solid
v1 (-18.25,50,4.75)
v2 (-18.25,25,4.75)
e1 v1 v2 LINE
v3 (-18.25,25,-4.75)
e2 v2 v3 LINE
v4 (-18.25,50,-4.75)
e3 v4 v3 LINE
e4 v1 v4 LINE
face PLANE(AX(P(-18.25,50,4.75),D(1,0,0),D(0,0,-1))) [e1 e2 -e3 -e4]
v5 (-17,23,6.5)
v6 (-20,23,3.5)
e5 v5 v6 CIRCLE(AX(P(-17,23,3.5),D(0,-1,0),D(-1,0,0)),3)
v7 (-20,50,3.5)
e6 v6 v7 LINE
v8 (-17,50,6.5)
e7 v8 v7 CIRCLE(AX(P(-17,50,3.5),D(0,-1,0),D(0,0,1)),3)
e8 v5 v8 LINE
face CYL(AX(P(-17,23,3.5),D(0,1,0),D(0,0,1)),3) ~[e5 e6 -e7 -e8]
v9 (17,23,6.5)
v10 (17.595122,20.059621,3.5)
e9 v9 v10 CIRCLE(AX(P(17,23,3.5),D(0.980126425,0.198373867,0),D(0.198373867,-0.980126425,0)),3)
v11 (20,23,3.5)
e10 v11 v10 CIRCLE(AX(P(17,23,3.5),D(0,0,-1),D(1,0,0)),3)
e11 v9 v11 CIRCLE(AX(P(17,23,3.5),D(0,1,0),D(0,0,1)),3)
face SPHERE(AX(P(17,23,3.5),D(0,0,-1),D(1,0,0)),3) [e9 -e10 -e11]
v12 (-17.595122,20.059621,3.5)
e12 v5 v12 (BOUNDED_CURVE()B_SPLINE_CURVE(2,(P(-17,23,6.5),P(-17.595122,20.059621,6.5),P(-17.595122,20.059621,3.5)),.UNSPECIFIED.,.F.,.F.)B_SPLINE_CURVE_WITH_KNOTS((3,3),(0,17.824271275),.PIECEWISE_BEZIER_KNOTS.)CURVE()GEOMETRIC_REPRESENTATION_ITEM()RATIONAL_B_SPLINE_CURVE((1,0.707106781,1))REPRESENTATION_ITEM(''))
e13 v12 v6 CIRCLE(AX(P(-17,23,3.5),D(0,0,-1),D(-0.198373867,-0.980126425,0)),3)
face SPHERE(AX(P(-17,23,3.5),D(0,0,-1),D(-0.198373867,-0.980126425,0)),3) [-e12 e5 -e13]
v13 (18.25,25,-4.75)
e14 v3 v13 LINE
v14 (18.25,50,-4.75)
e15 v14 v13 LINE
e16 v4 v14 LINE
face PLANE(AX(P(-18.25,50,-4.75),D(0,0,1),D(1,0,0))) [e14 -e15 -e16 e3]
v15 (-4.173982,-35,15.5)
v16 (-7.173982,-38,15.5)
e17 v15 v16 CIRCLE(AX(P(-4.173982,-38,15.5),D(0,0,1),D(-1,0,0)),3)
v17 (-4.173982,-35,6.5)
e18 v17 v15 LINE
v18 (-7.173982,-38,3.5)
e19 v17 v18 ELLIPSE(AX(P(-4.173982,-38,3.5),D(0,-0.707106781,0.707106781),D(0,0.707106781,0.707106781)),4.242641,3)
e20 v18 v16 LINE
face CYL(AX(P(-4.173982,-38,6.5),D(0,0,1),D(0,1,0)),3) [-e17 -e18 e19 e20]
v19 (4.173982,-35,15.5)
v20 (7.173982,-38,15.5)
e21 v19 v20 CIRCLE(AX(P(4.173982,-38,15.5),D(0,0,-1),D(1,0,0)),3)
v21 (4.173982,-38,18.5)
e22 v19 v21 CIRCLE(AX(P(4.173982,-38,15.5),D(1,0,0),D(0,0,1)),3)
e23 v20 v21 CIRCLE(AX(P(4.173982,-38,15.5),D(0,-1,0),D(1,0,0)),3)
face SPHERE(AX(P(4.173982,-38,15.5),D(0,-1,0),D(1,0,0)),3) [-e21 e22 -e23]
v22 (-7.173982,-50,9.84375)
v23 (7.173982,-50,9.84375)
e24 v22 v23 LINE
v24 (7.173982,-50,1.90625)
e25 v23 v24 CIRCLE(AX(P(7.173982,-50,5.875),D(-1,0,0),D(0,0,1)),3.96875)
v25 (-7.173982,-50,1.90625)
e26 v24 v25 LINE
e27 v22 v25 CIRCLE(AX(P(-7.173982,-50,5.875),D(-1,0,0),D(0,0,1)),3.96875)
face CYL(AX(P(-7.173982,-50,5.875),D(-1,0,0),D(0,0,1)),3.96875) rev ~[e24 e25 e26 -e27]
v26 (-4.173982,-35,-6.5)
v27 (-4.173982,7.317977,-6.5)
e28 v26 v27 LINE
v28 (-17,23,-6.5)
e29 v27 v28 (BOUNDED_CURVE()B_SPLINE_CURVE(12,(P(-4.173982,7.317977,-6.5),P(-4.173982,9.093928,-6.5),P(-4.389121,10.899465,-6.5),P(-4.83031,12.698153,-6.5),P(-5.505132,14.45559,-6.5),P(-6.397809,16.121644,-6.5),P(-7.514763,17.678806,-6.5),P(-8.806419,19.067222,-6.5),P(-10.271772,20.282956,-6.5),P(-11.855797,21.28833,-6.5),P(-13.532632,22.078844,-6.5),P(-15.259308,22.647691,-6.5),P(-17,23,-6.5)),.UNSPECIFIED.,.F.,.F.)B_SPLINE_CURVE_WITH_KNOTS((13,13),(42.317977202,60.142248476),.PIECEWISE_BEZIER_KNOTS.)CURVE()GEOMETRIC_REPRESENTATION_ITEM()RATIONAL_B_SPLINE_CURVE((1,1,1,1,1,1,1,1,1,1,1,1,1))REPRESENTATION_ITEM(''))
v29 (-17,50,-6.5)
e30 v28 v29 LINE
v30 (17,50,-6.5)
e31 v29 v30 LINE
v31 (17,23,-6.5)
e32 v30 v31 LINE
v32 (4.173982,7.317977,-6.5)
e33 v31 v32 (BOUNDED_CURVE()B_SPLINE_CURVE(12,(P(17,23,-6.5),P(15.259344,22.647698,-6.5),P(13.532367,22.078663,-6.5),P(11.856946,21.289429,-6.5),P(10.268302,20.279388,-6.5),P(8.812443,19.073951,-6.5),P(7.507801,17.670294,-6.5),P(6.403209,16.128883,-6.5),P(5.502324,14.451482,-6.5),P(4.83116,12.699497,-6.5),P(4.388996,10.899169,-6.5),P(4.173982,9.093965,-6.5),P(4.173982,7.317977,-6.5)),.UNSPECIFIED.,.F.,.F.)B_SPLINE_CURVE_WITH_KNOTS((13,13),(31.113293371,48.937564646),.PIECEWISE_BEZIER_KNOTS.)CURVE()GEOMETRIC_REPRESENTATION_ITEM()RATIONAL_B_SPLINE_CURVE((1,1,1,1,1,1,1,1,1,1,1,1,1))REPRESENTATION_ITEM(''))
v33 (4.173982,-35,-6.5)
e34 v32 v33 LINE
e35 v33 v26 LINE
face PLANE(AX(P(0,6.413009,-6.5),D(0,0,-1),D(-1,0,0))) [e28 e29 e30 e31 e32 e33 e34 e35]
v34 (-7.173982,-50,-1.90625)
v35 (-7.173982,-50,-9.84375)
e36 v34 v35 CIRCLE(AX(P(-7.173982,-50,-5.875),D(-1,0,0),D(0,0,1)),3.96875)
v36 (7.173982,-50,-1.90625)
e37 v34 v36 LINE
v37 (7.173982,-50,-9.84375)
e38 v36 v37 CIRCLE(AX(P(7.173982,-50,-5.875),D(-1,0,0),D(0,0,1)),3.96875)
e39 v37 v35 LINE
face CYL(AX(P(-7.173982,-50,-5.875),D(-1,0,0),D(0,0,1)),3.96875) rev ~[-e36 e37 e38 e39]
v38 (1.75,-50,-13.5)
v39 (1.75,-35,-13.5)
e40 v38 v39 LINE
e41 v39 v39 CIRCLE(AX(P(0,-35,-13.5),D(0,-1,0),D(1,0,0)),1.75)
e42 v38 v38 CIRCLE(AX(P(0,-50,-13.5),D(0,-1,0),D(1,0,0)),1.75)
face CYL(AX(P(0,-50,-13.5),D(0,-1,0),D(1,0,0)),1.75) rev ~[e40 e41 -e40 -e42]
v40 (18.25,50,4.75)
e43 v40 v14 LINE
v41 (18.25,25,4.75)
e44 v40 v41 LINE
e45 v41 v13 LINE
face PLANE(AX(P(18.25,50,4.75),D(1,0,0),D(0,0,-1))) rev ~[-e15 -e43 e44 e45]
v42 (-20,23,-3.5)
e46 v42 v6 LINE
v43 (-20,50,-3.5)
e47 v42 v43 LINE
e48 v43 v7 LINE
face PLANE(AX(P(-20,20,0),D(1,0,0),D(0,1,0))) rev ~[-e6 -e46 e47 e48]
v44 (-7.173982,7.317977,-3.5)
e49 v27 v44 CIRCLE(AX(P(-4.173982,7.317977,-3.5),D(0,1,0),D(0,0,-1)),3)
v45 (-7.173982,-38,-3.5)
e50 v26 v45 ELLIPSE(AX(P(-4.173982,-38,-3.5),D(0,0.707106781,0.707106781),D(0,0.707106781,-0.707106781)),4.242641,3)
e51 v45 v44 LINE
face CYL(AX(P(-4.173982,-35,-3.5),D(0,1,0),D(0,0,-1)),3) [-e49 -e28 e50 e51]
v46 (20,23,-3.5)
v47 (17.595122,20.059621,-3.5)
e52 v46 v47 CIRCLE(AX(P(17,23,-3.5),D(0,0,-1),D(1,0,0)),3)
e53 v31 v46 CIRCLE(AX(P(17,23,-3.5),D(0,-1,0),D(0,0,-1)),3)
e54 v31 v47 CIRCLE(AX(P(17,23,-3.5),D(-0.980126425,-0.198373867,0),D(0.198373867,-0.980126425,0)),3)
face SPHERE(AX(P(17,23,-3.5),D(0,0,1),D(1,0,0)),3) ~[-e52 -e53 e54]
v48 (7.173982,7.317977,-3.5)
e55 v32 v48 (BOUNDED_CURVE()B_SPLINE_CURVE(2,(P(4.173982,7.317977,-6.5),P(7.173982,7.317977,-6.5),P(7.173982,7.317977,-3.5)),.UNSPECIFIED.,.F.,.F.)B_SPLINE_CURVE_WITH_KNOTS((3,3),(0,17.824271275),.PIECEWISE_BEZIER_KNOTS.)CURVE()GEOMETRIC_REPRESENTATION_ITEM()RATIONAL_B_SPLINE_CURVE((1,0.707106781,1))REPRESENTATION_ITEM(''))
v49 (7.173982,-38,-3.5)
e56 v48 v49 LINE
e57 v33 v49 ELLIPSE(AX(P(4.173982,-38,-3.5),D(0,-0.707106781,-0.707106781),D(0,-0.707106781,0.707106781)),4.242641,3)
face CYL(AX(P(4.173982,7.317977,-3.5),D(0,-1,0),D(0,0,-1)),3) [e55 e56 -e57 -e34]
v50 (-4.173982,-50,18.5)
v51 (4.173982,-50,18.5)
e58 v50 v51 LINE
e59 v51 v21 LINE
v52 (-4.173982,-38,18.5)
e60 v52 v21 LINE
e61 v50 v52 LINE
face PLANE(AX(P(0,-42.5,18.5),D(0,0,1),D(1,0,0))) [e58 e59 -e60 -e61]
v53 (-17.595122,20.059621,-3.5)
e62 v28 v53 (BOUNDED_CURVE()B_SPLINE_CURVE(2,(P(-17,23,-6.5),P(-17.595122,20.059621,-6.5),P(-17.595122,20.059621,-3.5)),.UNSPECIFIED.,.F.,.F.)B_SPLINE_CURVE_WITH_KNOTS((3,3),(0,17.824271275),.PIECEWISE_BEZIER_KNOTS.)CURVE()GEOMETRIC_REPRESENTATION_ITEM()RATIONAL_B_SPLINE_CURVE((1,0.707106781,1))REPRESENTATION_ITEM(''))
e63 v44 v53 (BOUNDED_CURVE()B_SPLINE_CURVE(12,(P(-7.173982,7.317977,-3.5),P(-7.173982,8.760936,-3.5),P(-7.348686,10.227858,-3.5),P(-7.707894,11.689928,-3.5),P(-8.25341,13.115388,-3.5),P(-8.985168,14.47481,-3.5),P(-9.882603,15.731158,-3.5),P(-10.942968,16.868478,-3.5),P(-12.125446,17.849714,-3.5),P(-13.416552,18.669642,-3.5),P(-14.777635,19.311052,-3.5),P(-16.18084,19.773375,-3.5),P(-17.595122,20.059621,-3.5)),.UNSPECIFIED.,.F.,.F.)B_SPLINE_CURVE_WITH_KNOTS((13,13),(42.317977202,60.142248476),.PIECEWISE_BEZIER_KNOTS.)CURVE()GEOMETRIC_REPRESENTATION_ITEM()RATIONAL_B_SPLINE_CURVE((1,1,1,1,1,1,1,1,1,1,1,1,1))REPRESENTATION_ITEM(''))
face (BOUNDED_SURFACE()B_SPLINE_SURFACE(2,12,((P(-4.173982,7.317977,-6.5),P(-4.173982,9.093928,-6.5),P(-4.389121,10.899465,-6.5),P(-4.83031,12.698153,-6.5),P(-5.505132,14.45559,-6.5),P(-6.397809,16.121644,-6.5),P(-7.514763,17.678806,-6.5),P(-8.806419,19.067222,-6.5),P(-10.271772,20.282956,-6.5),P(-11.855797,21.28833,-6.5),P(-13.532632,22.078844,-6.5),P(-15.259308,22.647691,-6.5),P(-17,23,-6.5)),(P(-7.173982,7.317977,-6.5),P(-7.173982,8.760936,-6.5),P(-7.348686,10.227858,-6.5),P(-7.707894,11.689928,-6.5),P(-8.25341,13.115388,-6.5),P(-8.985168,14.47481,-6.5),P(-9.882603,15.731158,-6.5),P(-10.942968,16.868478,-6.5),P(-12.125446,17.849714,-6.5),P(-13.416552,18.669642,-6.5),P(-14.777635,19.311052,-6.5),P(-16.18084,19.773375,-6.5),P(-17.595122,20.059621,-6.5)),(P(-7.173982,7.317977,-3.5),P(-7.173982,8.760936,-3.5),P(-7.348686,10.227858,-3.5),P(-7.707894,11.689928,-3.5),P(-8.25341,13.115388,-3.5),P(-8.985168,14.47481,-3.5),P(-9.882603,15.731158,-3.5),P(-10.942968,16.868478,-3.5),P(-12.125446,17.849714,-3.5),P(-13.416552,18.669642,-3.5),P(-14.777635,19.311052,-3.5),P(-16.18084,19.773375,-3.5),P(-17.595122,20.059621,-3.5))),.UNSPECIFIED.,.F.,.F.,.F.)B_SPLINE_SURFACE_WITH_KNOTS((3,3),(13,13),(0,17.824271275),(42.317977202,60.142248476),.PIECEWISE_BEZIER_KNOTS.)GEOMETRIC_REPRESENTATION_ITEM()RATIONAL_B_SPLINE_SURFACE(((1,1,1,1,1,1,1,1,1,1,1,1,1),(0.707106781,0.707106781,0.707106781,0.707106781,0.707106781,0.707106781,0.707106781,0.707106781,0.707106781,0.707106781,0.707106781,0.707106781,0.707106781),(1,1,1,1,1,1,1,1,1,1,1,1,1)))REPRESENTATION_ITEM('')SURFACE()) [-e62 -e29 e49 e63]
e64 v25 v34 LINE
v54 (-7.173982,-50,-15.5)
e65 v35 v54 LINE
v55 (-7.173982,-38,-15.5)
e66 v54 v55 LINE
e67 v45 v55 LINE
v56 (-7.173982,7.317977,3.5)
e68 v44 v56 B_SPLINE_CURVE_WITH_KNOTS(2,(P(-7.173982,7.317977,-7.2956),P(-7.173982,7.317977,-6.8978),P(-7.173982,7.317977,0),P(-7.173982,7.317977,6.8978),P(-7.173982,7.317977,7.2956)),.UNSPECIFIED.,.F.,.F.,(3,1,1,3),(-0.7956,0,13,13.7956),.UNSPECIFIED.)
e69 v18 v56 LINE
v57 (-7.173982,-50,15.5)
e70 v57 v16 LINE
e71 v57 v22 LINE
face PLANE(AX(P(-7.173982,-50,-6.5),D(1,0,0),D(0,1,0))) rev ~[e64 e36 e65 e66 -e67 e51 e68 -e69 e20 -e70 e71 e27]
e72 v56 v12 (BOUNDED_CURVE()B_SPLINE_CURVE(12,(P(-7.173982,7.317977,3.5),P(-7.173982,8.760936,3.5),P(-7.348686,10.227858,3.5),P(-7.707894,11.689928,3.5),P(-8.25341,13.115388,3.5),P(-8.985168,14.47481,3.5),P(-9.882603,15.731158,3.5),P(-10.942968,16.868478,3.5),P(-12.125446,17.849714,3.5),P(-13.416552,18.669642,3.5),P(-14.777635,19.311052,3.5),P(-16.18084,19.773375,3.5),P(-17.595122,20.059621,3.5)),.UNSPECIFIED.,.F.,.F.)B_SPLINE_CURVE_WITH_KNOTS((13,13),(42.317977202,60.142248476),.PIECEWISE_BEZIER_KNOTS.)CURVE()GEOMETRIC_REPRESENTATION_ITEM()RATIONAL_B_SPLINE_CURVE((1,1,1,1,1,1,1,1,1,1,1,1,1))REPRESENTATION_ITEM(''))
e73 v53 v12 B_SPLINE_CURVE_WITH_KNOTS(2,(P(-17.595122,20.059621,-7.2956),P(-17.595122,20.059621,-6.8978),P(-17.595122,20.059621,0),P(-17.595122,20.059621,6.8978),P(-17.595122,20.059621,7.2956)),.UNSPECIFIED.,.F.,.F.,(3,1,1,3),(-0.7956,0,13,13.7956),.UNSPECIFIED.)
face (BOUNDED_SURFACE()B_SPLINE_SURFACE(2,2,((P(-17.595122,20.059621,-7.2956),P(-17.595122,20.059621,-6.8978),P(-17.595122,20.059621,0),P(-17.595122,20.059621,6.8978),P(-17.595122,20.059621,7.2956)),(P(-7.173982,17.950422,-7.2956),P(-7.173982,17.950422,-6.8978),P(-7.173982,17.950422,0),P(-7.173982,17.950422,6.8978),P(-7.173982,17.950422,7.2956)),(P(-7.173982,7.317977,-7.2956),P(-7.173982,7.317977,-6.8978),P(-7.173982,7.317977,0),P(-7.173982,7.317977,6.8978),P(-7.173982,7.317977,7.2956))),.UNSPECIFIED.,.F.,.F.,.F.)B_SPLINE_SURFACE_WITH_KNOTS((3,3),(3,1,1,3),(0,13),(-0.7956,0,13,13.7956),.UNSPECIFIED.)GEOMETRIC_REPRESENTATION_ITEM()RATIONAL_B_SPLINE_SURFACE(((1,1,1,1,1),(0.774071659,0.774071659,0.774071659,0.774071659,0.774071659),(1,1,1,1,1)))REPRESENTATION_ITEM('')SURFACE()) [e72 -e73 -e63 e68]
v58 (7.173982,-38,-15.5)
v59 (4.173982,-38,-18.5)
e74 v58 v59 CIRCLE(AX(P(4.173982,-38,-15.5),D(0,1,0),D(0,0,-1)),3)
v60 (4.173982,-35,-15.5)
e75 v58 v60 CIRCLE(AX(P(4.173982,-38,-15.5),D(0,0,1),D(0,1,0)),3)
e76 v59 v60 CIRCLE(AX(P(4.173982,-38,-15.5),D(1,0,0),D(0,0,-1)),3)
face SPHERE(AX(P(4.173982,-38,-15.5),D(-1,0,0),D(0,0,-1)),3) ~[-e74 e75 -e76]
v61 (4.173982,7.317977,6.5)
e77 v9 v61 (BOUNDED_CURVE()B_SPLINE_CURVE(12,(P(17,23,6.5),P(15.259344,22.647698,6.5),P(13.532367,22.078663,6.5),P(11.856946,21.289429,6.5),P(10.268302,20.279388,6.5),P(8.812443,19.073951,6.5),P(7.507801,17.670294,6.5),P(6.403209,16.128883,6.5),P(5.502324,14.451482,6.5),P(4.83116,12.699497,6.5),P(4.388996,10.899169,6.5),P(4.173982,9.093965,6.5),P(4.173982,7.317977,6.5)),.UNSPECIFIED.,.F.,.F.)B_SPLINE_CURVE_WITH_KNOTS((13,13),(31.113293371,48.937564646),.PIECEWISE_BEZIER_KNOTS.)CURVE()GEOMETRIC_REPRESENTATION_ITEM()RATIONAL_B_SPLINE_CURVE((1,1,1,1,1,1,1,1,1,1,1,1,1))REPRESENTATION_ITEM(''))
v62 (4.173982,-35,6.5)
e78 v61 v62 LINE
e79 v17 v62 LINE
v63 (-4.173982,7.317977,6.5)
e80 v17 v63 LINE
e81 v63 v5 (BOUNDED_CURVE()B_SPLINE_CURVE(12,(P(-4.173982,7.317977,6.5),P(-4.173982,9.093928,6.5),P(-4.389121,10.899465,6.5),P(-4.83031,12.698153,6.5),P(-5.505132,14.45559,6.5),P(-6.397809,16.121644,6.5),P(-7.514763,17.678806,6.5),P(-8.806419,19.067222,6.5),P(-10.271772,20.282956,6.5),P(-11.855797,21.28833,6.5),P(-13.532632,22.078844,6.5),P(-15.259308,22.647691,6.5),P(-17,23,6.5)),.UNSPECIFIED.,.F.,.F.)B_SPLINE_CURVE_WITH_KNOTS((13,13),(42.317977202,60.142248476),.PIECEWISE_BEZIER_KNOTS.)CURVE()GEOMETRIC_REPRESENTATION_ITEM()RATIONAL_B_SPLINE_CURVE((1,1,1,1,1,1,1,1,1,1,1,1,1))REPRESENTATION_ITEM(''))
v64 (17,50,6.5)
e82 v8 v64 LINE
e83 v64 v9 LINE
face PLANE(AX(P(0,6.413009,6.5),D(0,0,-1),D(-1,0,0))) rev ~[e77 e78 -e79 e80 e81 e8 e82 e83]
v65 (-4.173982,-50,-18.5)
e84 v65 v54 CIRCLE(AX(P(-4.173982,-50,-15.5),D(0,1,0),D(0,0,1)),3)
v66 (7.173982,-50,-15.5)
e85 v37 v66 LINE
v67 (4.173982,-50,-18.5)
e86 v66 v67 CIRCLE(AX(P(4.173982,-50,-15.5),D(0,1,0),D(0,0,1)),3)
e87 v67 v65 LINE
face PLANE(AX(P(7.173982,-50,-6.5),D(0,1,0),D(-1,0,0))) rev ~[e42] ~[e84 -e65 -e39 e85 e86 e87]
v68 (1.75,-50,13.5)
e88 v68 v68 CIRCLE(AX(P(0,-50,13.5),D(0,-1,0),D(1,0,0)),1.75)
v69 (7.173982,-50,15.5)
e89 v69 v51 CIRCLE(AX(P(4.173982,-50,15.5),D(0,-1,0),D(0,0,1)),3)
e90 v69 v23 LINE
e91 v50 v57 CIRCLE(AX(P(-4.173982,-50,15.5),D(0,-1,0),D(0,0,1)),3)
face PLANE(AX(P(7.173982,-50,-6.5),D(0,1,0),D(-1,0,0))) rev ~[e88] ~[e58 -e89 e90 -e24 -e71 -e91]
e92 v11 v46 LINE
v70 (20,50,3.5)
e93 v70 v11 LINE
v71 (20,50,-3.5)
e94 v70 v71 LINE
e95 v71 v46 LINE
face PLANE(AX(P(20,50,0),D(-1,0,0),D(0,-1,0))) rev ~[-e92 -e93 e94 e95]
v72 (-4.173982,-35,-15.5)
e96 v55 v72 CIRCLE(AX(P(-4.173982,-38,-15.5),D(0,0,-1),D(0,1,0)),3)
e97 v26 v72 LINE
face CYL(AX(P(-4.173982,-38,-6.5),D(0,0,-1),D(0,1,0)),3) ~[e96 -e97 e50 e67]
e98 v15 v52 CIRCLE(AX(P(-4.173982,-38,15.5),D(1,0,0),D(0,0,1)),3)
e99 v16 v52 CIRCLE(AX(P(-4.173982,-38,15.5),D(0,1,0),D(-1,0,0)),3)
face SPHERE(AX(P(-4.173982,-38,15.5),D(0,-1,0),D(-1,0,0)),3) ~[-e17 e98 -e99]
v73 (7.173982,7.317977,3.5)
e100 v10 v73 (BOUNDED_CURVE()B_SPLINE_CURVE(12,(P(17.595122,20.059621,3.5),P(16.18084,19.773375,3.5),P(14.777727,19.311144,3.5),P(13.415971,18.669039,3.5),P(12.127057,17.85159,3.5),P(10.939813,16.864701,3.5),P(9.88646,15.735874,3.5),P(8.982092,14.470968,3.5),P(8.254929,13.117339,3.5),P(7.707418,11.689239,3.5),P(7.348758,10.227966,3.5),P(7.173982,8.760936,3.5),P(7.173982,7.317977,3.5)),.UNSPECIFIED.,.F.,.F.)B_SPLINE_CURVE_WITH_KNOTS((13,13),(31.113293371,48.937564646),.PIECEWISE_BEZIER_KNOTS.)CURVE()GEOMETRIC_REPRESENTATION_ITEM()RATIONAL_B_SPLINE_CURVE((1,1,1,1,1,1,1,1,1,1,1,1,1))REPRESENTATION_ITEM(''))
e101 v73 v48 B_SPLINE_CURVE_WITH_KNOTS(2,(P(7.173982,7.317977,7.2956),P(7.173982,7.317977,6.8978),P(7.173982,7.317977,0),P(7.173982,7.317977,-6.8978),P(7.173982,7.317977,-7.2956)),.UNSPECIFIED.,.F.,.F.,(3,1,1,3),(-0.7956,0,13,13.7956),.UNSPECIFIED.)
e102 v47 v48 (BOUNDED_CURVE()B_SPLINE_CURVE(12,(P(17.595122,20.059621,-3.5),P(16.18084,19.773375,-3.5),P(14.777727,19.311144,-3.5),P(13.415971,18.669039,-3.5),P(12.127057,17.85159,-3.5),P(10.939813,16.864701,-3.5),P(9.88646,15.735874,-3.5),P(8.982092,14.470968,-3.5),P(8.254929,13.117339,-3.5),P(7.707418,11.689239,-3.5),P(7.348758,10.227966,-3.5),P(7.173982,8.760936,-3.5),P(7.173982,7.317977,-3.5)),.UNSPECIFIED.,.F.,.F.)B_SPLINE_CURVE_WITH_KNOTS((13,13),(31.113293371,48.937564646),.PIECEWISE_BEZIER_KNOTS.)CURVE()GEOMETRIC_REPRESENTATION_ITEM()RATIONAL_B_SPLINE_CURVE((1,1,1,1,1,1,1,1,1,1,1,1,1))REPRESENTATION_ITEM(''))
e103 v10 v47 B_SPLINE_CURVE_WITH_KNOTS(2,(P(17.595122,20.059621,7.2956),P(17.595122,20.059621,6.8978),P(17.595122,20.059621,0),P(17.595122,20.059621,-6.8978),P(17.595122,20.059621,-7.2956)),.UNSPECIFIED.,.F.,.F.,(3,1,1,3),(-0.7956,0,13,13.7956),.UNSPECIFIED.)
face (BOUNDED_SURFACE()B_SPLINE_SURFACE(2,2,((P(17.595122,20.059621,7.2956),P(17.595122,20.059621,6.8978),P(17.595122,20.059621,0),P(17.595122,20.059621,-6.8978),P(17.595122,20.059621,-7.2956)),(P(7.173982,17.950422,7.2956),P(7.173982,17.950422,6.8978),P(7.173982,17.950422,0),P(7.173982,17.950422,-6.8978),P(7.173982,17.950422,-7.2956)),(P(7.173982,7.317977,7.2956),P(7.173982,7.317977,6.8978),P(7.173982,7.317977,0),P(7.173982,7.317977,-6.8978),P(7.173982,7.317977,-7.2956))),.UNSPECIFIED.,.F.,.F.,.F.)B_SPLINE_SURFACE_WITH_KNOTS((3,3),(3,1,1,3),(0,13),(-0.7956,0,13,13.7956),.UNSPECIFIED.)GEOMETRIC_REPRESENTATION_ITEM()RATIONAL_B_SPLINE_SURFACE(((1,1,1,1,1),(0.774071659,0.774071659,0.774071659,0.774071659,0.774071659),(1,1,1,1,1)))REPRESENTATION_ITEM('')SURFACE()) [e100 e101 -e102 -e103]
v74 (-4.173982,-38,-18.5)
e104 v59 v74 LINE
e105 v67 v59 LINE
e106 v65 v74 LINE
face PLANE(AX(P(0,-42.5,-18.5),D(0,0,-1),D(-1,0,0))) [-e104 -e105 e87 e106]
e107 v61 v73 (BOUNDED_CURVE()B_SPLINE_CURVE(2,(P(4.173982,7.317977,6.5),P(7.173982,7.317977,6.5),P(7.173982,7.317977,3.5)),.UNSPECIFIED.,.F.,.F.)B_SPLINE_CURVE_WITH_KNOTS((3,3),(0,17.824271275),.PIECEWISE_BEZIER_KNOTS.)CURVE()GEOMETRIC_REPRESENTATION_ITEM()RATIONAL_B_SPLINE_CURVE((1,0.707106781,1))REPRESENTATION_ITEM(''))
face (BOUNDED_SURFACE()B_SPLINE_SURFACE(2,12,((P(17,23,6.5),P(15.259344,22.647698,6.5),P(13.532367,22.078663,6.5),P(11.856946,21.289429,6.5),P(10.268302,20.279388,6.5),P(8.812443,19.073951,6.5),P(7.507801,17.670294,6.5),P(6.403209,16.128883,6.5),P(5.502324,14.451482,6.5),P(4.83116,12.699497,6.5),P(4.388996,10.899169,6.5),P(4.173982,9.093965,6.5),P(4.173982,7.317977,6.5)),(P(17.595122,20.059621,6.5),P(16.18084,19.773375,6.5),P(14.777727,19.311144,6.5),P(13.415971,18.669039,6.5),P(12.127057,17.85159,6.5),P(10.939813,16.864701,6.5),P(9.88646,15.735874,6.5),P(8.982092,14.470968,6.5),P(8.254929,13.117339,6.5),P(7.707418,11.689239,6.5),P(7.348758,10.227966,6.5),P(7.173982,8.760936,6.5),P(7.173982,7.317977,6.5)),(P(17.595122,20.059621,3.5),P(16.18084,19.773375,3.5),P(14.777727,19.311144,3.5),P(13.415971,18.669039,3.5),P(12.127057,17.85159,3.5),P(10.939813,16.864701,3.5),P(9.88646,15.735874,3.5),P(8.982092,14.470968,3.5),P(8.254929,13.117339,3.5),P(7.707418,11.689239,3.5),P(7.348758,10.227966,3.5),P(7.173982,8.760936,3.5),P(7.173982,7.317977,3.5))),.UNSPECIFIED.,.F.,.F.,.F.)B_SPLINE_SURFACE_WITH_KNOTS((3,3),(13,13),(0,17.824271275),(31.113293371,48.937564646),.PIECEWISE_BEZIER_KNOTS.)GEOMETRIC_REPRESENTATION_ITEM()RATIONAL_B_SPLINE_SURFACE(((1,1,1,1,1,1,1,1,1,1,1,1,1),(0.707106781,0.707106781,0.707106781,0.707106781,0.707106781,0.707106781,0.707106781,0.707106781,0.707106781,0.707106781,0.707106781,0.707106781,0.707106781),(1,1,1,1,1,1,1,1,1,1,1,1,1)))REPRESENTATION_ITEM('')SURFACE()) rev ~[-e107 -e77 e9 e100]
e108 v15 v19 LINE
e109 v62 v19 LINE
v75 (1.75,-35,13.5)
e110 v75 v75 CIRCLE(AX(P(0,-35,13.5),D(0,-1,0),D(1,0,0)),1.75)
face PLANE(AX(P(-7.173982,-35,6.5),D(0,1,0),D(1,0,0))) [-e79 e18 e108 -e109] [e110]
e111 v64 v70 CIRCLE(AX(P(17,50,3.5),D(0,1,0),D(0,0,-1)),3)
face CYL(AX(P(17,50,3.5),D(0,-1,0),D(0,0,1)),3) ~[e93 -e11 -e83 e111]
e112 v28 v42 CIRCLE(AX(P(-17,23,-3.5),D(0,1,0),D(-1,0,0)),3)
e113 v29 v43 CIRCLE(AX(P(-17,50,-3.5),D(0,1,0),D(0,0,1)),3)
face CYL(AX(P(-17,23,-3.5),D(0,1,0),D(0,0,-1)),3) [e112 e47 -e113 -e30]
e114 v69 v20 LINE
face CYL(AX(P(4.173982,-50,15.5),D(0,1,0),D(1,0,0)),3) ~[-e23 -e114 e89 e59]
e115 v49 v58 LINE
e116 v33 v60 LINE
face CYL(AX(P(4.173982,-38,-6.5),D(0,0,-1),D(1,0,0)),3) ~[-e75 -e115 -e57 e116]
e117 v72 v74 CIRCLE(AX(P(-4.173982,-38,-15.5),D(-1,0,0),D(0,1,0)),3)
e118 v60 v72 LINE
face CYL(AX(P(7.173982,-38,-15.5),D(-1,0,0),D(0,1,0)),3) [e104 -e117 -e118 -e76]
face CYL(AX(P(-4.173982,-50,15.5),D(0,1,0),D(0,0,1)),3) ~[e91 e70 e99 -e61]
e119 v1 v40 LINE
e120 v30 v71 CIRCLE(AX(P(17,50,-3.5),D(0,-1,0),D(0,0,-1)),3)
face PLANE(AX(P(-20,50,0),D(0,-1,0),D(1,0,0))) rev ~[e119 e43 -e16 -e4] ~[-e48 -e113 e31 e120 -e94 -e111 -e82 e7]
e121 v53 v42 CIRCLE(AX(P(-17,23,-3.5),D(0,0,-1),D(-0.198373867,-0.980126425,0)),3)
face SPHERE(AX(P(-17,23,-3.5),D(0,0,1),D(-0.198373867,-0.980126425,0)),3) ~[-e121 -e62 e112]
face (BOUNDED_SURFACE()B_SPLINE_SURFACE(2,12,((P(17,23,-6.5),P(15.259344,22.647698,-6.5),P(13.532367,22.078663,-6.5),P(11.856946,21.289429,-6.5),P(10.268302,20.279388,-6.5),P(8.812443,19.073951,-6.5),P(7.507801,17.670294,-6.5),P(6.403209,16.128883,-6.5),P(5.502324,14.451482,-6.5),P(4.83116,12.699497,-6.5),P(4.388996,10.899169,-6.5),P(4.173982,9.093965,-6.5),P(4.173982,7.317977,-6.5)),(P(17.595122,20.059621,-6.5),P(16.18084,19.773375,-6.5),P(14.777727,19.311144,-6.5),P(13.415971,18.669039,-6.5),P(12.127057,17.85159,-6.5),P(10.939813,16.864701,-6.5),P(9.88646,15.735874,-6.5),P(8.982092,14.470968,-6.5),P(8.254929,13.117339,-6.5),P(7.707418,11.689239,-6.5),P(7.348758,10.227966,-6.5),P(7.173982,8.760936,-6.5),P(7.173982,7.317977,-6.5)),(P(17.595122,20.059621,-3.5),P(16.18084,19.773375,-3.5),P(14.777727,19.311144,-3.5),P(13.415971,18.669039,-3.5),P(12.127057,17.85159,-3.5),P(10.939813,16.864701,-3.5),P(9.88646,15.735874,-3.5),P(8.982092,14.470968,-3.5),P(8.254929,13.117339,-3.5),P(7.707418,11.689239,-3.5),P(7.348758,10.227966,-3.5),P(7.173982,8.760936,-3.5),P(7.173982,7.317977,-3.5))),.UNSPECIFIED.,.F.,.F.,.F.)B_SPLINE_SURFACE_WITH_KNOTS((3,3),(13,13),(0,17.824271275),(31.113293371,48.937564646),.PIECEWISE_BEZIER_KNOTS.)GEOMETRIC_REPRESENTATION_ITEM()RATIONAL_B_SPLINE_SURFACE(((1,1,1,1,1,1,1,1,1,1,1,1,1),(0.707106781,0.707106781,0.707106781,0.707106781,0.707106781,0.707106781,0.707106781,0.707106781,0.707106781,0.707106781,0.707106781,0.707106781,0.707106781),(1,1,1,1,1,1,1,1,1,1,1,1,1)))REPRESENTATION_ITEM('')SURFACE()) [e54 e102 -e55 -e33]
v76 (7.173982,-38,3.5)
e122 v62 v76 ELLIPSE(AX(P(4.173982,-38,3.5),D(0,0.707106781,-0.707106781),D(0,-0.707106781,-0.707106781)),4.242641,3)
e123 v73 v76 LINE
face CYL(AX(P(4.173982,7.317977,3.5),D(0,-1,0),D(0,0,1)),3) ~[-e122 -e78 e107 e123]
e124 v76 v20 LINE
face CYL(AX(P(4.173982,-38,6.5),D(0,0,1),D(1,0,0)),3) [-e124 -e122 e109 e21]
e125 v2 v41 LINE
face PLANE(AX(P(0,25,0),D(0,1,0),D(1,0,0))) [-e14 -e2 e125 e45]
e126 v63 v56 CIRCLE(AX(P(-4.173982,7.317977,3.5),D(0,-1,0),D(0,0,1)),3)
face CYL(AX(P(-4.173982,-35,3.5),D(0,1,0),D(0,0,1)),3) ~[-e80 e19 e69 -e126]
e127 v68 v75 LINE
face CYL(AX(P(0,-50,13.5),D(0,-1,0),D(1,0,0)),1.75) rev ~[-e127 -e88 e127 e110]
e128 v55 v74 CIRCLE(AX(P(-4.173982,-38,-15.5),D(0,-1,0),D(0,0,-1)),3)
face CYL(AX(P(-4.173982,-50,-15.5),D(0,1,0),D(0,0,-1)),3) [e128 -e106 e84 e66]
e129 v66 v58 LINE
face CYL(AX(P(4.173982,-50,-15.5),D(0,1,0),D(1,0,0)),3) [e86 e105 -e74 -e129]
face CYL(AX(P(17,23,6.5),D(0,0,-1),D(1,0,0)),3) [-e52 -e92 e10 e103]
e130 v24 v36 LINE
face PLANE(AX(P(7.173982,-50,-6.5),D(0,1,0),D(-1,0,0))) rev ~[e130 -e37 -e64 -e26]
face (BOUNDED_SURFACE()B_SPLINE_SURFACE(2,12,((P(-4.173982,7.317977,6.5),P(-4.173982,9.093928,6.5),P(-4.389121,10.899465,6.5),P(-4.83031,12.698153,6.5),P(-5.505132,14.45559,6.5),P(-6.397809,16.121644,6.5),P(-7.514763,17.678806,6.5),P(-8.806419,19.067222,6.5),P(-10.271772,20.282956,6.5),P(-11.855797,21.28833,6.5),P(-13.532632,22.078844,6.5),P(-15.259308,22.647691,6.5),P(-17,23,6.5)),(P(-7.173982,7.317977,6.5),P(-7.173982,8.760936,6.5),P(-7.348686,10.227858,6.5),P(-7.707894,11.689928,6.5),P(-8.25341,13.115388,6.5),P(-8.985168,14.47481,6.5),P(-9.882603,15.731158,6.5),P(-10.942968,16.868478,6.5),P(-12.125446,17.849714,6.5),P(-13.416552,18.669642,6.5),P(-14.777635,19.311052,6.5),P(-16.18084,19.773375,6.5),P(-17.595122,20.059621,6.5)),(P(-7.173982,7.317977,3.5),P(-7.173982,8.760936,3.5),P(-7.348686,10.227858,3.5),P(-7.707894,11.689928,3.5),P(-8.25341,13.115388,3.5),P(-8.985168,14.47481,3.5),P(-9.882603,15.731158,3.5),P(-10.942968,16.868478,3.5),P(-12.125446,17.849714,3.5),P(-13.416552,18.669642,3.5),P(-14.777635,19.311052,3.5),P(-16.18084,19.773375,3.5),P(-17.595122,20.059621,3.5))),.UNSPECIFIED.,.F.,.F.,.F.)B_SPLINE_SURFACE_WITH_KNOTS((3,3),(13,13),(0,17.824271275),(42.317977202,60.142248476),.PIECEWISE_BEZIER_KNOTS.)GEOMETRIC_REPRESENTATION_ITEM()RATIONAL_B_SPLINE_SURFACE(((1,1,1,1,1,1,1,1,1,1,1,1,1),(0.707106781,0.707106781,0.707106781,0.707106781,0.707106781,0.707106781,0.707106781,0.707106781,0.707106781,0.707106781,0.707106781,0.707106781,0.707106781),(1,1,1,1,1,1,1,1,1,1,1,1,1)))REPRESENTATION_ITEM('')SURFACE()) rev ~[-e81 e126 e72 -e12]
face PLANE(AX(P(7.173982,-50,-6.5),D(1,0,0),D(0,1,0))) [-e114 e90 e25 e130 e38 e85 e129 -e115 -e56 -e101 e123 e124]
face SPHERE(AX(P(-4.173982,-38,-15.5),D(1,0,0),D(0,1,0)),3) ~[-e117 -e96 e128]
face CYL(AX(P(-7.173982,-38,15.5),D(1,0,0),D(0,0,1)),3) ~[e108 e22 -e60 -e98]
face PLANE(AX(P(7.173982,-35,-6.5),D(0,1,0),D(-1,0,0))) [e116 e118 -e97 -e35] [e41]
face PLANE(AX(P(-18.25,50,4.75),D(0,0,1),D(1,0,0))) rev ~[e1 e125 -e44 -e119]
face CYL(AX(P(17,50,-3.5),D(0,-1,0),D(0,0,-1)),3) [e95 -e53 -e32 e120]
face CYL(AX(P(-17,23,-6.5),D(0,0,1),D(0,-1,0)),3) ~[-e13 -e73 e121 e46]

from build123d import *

# Parameters (mm, degrees)
RESSALTO_EXTRUS_O1_DEPTH = 6.5
FILETE1_R                = 3
FILETE2_R                = 3
FILETE3_R                = 13
ESBO_O4_W                = 36.5
ESBO_O4_H                = 9.5
CORTE_EXTRUS_O1_DEPTH    = 25
ESBO_O11_W               = 14.347963754
ESBO_O11_H               = 15
RESSALTO_EXTRUS_O5_DEPTH = 12
ESBO_O17_W               = 14.347963754
ESBO_O17_H               = 15
RESSALTO_EXTRUS_O6_DEPTH = 12
ESBO_O18_R               = 1.75
CORTE_EXTRUS_O5_DEPTH    = 25
ESBO_O19_R               = 3.96875
CORTE_EXTRUS_O6_DEPTH    = 25
FILETE14_R               = 3


with BuildPart() as part:
    # Esboço2 → Ressalto-extrusão1 (new body, symmetric)
    with BuildSketch(Plane.XY):
        Polygon((-20, 50), (20, 50), (20, 20), (7.173981877, 20), (7.173981877, -50), (-7.173981877, -50), (-7.173981877, 20), (-20, 20), align=None)
    extrude(amount=RESSALTO_EXTRUS_O1_DEPTH, both=True)

    # Filete1
    filete1_edges = [part.edges().sort_by_distance(p)[0] for p in [
        (-20, 20, 0),
    ]]
    fillet(filete1_edges, radius=FILETE1_R)

    # Filete2
    filete2_edges = [part.edges().sort_by_distance(p)[0] for p in [
        (20, 20, 0),
    ]]
    fillet(filete2_edges, radius=FILETE2_R)

    # Filete3
    filete3_edges = [part.edges().sort_by_distance(p)[0] for p in [
        (-7.173981877, 20, 0),
        (7.173981877, 20, 0),
    ]]
    fillet(filete3_edges, radius=FILETE3_R)

    # Esboço4 → Corte-extrusão1 (cut)
    with BuildSketch(Plane(origin=(0, 50, 0), x_dir=(1, 0, 0), z_dir=(0, 1, 0))):
        Rectangle(ESBO_O4_W, ESBO_O4_H)
    extrude(amount=-CORTE_EXTRUS_O1_DEPTH, mode=Mode.SUBTRACT)

    # Esboço11 → Ressalto-extrusão5 (add)
    with BuildSketch(Plane.XY.offset(6.5)):
        with Locations((0, -42.5)):
            Rectangle(ESBO_O11_W, ESBO_O11_H)
    extrude(amount=RESSALTO_EXTRUS_O5_DEPTH)

    # Esboço17 → Ressalto-extrusão6 (add)
    with BuildSketch(Plane(origin=(0, 0, -6.5), x_dir=(-1, 0, 0), z_dir=(0, 0, -1))):
        with Locations((0, -42.5)):
            Rectangle(ESBO_O17_W, ESBO_O17_H)
    extrude(amount=RESSALTO_EXTRUS_O6_DEPTH)

    # Esboço18 → Corte-extrusão5 (cut)
    with BuildSketch(Plane.XZ.offset(50)):
        with Locations((0, 13.5)):
            Circle(ESBO_O18_R)
        with Locations((0, -13.5)):
            Circle(ESBO_O18_R)
    extrude(amount=-CORTE_EXTRUS_O5_DEPTH, mode=Mode.SUBTRACT)

    # Esboço19 → Corte-extrusão6 (cut)
    with BuildSketch(Plane.ZY.offset(7.173981877)):
        with Locations((-5.875, -50)):
            Circle(ESBO_O19_R)
        with Locations((5.875, -50)):
            Circle(ESBO_O19_R)
    extrude(amount=-CORTE_EXTRUS_O6_DEPTH, mode=Mode.SUBTRACT)

    # Filete14
    filete14_edges = [part.edges().sort_by_distance(p)[0] for p in [
        (20, 36.5, 6.5),
        (19.322214978, 21.100706027, 6.5),
        (10.111050307, 15.548251086, 6.5),
        (-20, 36.5, 6.5),
        (-19.322214978, 21.100706027, 6.5),
        (-10.111050307, 15.548251086, 6.5),
        (20, 36.5, -6.5),
        (19.322214978, 21.100706027, -6.5),
        (10.111050307, 15.548251086, -6.5),
        (-20, 36.5, -6.5),
        (-19.322214978, 21.100706027, -6.5),
        (-10.111050307, 15.548251086, -6.5),
        (-7.173981877, -42.5, 18.5),
        (-7.173981877, -35, 12.5),
        (0, -35, -18.5),
        (-7.173981877, -35, -12.5),
        (-7.173981877, -42.5, -18.5),
        (7.173981877, -42.5, -18.5),
        (7.173981877, -35, -12.5),
        (7.173981877, -42.5, 18.5),
        (7.173981877, -35, 12.5),
        (0, -35, 18.5),
        (7.173981877, -13.841011399, 6.5),
        (-7.173981877, -13.841011399, 6.5),
        (7.173981877, -13.841011399, -6.5),
        (-7.173981877, -13.841011399, -6.5),
    ]]
    fillet(filete14_edges, radius=FILETE14_R)


solid = part.part
